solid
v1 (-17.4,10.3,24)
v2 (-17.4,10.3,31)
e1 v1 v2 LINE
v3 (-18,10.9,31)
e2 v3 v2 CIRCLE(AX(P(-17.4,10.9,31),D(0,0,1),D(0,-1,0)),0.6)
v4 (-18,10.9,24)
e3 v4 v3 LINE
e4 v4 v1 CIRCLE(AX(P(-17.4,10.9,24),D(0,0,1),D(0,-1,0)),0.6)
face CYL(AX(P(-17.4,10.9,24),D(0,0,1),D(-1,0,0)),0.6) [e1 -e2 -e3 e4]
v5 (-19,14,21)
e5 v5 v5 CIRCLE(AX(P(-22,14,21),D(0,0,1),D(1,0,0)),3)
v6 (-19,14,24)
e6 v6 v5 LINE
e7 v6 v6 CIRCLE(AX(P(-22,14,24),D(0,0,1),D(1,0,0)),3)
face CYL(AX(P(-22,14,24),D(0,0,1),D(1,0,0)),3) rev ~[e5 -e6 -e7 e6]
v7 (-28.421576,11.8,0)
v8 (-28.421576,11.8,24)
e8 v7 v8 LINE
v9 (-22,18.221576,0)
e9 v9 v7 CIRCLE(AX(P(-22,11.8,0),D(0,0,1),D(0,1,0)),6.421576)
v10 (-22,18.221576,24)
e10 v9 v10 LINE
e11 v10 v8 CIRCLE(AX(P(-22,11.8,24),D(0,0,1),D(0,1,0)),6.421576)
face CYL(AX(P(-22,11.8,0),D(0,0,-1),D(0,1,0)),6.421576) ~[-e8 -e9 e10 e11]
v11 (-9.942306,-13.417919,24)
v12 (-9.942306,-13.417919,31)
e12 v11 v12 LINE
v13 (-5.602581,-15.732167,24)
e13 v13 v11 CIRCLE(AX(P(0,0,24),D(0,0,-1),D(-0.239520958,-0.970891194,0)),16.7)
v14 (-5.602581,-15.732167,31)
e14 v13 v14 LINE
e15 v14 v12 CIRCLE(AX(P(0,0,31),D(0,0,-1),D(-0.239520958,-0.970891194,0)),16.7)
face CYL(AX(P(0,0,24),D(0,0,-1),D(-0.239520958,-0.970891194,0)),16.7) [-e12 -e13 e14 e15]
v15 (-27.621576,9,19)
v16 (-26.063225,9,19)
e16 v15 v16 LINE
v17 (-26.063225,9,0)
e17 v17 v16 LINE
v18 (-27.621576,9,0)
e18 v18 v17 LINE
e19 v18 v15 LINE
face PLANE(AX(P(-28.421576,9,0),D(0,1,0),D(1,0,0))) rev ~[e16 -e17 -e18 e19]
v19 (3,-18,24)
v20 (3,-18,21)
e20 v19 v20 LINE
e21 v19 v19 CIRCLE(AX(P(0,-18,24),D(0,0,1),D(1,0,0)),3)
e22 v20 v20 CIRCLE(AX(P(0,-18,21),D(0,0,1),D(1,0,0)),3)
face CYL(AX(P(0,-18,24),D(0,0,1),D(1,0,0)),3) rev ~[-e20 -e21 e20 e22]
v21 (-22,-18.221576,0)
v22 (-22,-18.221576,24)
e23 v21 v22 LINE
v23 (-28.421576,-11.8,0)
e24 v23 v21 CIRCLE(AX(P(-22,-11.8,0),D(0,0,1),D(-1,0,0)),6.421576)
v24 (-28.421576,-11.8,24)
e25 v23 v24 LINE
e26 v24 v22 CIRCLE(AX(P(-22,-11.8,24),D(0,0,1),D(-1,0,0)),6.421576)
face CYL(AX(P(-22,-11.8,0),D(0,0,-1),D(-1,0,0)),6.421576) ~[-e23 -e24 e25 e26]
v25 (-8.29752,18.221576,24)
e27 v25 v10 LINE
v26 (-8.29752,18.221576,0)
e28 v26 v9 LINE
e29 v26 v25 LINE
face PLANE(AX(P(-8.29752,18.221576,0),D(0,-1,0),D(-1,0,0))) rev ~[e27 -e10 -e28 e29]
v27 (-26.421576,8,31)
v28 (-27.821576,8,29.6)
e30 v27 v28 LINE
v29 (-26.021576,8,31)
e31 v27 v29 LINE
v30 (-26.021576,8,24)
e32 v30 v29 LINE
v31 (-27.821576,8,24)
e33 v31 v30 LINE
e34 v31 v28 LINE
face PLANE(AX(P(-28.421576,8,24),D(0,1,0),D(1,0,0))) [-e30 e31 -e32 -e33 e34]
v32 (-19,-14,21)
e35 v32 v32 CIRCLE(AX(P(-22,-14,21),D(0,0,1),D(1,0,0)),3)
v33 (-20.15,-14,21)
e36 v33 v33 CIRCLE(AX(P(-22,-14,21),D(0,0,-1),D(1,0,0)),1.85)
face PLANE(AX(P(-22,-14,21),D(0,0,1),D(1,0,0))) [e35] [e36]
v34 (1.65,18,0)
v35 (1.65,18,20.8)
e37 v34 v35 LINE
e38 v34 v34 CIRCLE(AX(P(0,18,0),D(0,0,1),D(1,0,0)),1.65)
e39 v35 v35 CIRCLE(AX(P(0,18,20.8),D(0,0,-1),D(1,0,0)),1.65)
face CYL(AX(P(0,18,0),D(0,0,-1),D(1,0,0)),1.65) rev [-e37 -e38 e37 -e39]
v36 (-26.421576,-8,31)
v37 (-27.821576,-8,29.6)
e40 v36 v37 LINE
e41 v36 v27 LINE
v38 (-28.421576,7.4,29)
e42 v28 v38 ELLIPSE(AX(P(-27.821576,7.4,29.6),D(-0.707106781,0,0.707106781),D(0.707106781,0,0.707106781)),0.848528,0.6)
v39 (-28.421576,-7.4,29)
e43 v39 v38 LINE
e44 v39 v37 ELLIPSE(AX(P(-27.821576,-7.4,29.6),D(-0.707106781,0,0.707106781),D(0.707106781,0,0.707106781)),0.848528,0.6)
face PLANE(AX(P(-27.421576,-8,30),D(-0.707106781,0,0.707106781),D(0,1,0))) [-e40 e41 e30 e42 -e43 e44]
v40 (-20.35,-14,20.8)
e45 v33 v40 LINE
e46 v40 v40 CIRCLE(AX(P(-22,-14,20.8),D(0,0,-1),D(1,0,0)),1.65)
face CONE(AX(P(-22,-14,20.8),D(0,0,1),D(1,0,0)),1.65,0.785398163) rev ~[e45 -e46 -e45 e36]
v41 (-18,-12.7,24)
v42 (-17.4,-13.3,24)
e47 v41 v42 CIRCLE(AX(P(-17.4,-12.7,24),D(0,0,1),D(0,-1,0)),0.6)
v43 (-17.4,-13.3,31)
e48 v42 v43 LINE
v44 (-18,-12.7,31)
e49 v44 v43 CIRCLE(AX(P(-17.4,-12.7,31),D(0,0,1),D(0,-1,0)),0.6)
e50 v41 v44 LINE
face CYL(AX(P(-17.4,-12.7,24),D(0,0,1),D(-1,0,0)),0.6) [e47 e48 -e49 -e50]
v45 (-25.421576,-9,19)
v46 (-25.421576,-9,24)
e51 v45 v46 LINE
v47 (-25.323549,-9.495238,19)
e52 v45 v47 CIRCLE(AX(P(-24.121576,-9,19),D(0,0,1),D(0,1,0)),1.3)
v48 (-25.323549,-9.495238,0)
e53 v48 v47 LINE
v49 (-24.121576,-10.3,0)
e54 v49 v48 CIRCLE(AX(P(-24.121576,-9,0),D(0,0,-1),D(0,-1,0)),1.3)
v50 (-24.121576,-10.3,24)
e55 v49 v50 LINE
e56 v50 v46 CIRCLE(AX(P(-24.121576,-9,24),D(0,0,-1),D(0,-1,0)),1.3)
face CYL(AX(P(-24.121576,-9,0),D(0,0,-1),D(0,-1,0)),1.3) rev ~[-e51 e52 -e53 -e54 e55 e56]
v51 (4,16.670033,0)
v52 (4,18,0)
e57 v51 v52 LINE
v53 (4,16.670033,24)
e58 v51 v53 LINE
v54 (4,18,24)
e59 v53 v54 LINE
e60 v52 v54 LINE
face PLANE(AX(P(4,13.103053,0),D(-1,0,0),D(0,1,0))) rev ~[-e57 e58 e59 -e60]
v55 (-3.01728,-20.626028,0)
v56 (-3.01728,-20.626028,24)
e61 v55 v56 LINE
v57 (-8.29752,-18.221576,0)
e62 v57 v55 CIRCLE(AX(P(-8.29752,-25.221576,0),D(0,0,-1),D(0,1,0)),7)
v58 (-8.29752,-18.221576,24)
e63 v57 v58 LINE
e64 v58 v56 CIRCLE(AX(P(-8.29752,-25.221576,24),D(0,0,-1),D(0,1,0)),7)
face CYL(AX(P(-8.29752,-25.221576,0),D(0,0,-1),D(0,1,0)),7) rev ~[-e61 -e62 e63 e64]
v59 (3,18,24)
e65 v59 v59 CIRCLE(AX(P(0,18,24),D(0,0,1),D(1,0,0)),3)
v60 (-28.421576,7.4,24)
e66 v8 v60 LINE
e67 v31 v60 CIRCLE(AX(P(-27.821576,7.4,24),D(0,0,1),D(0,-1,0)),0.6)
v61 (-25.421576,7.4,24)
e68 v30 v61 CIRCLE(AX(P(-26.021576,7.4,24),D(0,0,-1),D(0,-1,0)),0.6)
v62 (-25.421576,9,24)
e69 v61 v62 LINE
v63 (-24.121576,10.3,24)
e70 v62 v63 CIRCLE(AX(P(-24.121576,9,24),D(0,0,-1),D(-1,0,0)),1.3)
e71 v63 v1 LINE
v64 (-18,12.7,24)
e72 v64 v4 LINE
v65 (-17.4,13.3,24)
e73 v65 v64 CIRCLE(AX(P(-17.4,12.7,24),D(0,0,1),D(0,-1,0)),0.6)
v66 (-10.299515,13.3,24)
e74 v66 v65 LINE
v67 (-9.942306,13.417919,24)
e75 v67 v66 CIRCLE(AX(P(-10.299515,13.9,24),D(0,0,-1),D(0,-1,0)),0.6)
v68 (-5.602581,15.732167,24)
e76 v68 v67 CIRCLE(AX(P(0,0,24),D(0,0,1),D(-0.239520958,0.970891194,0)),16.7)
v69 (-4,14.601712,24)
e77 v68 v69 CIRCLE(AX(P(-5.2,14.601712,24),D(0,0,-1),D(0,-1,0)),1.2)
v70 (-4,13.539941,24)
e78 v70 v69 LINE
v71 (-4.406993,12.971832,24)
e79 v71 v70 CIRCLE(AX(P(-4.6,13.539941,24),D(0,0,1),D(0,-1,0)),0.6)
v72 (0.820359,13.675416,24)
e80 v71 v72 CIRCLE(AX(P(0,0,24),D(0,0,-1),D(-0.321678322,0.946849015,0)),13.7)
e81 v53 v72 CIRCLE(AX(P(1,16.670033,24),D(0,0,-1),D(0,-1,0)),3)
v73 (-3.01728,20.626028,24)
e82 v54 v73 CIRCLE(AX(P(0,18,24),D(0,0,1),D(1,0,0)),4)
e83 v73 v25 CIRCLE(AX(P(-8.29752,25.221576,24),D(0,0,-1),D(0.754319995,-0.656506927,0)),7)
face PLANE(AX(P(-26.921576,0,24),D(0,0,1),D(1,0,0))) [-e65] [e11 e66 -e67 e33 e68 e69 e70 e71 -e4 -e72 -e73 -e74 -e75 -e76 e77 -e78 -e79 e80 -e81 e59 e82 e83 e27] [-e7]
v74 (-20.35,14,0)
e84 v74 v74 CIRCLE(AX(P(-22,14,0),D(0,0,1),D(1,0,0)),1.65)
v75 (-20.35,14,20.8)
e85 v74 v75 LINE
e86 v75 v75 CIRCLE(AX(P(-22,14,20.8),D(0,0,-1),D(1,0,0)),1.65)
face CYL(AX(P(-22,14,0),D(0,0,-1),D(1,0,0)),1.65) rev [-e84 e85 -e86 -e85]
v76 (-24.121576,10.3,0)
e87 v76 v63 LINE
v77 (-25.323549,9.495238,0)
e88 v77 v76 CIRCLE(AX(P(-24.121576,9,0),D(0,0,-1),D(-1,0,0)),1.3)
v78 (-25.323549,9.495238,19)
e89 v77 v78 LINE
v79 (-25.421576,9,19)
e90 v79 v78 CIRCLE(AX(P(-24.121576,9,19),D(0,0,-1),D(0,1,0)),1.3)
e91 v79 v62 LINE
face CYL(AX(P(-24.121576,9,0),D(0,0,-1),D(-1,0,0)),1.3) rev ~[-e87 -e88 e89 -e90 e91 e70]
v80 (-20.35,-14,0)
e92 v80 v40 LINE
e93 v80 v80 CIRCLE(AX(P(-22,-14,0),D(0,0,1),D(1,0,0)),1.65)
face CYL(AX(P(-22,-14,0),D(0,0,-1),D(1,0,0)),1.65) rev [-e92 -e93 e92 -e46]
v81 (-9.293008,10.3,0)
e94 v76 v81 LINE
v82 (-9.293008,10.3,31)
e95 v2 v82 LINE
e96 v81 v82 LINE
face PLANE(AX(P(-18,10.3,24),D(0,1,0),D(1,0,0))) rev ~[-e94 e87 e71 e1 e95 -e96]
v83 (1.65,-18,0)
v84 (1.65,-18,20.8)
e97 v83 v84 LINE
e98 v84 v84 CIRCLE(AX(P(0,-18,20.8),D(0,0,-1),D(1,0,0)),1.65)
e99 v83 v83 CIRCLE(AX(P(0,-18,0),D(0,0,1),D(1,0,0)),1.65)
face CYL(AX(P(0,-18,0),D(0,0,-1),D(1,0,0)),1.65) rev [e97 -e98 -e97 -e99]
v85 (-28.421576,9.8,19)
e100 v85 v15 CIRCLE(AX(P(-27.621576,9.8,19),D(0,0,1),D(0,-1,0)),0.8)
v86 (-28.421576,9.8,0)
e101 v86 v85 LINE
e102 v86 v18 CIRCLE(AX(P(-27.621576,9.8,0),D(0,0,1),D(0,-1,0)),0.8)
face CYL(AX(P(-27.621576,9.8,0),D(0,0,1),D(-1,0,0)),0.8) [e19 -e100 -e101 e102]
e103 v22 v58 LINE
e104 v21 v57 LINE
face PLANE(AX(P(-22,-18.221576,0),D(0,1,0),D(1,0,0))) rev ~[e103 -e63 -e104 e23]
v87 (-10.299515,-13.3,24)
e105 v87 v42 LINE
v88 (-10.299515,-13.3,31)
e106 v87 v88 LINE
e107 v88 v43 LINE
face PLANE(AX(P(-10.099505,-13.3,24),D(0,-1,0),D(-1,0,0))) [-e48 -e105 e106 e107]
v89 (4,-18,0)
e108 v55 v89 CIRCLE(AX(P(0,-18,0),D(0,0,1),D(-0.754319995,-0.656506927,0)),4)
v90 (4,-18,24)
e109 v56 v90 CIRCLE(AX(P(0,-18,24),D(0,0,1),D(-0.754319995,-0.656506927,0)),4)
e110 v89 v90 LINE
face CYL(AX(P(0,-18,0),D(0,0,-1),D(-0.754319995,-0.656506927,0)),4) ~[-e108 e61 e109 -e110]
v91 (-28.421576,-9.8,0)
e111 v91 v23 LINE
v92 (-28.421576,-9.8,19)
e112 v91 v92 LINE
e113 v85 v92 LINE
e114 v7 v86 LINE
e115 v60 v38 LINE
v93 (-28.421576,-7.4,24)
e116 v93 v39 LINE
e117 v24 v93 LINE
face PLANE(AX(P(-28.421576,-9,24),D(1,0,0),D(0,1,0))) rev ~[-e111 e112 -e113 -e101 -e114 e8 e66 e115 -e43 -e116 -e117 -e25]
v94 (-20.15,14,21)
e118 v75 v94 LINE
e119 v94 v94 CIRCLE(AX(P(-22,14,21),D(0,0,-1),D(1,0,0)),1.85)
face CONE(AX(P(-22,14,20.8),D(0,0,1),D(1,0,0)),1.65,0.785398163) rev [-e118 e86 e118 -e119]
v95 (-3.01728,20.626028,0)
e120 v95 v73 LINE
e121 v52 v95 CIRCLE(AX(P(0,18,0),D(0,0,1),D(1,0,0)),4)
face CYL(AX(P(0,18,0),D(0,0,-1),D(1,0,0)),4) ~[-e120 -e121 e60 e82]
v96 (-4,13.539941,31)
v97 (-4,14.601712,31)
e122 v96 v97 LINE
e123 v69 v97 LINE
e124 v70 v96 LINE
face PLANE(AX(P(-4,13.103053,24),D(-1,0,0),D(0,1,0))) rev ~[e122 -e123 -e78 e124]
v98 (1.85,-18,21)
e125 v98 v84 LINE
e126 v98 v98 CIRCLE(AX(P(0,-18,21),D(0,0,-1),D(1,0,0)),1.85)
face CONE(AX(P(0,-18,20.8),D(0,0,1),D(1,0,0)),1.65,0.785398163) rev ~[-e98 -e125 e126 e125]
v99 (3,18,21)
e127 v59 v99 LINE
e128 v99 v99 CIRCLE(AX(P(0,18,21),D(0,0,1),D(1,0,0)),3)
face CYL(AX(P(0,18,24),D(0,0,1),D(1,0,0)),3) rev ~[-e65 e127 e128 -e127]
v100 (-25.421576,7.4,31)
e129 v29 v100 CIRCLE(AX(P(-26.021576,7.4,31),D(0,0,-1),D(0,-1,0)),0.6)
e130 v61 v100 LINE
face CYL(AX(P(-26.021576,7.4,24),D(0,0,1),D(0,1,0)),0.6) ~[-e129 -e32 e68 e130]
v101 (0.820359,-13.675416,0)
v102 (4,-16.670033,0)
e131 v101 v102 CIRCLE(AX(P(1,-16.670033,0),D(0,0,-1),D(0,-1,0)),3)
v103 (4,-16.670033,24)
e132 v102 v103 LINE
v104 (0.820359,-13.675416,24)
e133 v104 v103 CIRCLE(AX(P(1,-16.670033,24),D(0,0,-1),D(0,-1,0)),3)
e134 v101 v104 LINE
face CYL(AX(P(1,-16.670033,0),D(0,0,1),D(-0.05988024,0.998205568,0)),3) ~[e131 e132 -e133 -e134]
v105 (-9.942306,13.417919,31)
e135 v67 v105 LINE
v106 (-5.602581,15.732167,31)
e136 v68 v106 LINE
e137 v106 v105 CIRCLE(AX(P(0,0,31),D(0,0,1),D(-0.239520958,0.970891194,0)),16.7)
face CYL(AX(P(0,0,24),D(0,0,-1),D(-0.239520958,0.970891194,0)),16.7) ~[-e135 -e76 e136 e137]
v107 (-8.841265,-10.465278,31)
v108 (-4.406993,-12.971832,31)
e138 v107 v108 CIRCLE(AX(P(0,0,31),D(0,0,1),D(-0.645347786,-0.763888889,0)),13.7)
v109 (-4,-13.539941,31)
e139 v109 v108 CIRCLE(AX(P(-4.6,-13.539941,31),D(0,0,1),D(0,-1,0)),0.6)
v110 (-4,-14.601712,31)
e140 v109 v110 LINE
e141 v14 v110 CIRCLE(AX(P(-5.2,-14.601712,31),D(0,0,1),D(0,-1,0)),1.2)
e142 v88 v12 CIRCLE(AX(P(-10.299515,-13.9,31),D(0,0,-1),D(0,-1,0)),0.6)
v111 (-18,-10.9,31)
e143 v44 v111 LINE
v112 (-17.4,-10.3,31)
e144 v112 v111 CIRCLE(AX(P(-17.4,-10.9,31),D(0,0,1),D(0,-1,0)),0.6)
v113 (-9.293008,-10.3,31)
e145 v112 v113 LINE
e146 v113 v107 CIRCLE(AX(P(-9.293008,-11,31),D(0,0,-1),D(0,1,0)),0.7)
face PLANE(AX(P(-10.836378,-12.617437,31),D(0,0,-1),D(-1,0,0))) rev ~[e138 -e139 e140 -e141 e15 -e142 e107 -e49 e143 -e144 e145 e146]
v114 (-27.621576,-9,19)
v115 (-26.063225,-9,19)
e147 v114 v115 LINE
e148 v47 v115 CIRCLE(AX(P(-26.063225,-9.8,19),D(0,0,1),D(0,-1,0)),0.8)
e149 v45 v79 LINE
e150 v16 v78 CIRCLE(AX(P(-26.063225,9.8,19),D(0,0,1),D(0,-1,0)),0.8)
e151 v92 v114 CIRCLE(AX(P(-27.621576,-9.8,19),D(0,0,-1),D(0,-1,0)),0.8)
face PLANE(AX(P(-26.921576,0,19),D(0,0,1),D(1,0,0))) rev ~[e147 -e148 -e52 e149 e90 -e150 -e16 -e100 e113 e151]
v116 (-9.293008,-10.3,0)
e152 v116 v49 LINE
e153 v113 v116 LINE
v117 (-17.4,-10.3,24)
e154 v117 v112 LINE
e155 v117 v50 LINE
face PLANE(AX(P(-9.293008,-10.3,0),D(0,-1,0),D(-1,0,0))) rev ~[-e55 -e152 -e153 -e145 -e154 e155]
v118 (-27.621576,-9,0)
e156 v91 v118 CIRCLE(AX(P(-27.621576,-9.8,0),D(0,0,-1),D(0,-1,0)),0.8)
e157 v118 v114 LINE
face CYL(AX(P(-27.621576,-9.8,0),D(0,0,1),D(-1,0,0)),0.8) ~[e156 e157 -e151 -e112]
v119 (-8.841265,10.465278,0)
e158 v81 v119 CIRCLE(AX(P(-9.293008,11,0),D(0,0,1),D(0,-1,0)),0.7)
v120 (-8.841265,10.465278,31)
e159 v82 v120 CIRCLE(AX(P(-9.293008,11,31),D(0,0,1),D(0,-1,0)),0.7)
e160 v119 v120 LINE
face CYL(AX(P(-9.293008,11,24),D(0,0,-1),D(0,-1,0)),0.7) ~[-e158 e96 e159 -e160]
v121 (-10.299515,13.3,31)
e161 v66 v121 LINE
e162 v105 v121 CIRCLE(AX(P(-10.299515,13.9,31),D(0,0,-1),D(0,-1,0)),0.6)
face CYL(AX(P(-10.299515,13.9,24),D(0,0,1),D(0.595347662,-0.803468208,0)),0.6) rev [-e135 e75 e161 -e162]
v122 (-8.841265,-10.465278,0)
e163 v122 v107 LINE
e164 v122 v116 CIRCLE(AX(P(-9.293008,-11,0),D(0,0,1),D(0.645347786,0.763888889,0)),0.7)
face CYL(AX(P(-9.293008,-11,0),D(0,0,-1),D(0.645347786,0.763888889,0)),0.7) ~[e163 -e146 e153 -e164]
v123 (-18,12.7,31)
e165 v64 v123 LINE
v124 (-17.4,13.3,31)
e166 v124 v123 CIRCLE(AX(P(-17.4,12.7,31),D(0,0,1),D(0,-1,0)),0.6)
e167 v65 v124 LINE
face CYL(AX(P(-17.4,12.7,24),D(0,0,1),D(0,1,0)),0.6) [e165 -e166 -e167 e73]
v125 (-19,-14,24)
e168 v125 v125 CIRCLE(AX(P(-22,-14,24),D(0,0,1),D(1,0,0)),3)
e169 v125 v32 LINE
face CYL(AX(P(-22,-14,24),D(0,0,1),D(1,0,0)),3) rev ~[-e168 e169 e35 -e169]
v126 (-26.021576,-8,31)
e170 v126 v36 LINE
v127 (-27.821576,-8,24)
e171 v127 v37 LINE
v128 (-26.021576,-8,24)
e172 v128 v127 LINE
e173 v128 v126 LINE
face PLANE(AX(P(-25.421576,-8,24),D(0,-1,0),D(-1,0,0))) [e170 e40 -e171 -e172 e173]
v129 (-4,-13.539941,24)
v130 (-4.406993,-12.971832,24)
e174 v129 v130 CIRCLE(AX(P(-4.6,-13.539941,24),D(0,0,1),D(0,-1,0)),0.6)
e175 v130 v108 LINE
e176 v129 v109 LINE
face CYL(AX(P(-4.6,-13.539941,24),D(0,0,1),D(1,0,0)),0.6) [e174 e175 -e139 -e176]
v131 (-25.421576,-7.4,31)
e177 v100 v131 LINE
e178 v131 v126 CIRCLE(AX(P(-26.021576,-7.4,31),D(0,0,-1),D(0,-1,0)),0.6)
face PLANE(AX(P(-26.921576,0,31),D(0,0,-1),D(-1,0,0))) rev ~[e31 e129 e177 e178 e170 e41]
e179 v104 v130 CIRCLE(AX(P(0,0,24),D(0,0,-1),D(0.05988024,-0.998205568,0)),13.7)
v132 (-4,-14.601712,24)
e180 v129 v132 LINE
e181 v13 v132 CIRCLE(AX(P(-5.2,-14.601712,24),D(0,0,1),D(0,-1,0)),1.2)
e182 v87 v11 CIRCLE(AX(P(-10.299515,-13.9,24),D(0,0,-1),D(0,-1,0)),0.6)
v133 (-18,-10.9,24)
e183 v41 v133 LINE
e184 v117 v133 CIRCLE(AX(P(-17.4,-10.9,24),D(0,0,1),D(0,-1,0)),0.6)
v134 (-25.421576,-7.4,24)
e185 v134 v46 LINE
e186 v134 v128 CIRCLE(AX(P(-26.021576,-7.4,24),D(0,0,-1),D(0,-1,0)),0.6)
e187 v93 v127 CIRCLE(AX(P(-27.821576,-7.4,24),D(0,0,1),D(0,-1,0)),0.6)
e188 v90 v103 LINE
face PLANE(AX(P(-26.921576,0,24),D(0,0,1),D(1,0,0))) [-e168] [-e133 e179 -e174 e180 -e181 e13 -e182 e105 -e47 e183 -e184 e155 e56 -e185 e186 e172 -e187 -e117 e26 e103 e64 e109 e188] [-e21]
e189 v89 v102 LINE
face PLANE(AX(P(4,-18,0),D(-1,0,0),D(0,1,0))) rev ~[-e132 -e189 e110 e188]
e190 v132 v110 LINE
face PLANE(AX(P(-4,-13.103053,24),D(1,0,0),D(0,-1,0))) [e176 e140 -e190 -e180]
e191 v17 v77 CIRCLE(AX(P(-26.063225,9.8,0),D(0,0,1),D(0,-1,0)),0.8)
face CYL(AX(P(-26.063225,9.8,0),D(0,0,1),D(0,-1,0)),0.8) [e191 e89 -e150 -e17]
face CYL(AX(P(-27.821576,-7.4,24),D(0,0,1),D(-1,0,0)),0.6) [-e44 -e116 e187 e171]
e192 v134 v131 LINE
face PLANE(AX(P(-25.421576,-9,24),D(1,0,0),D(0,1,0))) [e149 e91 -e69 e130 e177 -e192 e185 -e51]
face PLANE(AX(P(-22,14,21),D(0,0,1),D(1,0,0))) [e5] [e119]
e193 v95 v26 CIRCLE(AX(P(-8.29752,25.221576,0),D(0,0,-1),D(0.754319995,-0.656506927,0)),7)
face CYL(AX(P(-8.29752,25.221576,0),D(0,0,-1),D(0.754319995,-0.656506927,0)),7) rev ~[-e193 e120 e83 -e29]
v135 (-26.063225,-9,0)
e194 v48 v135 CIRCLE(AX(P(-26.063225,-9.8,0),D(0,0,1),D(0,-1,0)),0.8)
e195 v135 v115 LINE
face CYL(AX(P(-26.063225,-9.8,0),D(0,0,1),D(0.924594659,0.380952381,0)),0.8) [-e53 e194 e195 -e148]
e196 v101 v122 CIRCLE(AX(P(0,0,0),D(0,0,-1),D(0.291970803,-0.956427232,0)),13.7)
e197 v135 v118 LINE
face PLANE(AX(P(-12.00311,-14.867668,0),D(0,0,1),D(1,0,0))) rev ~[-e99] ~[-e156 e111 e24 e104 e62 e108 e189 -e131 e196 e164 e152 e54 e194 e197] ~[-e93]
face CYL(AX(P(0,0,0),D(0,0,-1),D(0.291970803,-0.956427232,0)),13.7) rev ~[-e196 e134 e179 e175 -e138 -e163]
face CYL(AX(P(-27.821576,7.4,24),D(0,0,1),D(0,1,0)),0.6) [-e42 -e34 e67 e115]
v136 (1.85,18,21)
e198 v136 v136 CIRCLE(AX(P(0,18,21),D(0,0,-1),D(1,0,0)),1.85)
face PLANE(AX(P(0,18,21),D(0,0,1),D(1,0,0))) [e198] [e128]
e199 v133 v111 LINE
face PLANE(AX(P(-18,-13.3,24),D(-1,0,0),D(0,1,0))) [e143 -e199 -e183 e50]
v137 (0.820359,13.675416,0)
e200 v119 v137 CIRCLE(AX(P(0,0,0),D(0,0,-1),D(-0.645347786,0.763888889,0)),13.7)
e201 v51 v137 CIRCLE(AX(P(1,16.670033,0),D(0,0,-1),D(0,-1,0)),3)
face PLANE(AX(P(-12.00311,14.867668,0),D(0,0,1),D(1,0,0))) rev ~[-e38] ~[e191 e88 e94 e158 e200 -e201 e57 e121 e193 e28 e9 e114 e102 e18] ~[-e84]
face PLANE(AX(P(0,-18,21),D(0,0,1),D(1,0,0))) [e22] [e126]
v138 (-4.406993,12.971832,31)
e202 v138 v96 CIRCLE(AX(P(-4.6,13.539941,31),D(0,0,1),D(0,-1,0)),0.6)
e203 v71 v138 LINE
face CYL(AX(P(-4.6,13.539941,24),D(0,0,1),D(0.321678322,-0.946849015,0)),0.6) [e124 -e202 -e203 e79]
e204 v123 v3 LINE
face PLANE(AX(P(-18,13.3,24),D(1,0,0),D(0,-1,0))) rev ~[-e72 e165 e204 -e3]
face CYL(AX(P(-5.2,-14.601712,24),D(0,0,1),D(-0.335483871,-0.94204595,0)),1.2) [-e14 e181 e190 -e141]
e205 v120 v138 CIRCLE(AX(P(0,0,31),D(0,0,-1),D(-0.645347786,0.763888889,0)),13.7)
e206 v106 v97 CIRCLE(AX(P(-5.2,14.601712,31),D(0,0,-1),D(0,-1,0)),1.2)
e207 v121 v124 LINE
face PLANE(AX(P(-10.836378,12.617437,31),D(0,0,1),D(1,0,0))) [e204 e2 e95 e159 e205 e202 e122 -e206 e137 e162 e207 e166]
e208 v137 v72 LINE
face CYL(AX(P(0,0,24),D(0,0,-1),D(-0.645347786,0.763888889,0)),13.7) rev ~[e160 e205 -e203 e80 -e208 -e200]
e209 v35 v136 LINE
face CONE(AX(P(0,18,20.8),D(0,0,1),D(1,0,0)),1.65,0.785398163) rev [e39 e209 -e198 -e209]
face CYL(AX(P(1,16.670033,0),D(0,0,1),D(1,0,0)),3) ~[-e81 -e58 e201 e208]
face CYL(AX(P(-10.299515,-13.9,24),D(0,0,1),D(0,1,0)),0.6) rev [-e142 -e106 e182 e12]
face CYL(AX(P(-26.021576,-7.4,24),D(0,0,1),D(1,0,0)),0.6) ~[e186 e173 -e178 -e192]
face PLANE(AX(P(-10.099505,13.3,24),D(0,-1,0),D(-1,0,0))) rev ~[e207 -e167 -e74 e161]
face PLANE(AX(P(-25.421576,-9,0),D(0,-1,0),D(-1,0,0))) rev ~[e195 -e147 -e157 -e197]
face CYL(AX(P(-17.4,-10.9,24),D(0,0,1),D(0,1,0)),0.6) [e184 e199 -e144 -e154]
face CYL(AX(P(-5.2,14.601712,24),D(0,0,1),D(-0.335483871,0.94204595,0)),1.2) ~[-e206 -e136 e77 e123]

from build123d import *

# Parameters (mm, degrees)
SKETCH1_R             = 1.6499999999999988
SKETCH1_R_2           = 1.6499999999999992
BOSS_EXTRUDE1_DEPTH   = 24
BOSS_EXTRUDE1_2_DEPTH = 24
SKETCH5_R             = 3.0000000000000044
SKETCH5_R_2           = 2.9999999999999996
CUT_EXTRUDE1_DEPTH    = 3
SKETCH6_W             = 2.999999999999975
SKETCH6_H             = 17.999999999999996
BOSS_EXTRUDE2_DEPTH   = 5
FILLET1_R             = 3
BOSS_EXTRUDE3_DEPTH   = 7
CHAMFER1_SIZE         = 2
FILLET2_R             = 0.6
FILLET3_R             = 1.2
CHAMFER2_SIZE         = 0.2
FILLET4_R             = 0.8


with BuildPart() as part:
    # Sketch1 → Boss-Extrude1 (new body)
    with BuildSketch(Plane.XY):
        with BuildLine():
            Line((-24.12157620169872, 10.3), (-9.293008124391159, 10.3))
            ThreePointArc((-9.293008124391159, 10.3), (-9.052493629563461, 10.342616719274229), (-8.841264673899918, 10.465277777777773))
            ThreePointArc((-8.84126467389991, 10.465277777777777), (-2.7566148708280886, 13.419801580274177), (4.000000000000017, 13.103053079339933))
            Line((4.000000000000019, 13.103053079339944), (4.000000000000019, 18))
            ThreePointArc((4.0000000000000195, 18), (1.4019415263376545, 21.7462728086366), (-3.0172799783650257, 20.626027709708623))
            ThreePointArc((-3.017279978365025, 20.626027709708623), (-5.396557983146459, 18.850985983990057), (-8.297519940503818, 18.221576201698717))
            Line((-8.297519940503818, 18.22157620169872), (-22, 18.221576201698717))
            ThreePointArc((-22, 18.221576201698717), (-26.540740078127286, 16.340740078127293), (-28.42157620169869, 11.799999999999997))
            Line((-28.42157620169869, 11.799999999999997), (-28.421576201698695, 8.999999999999998))
            Line((-28.421576201698695, 8.999999999999998), (-25.42157620169872, 8.999999999999998))
            ThreePointArc((-25.42157620169872, 8.999999999999998), (-25.040815017241233, 9.919238815542512), (-24.12157620169872, 10.3))
        make_face()
        with Locations((-21.999999999999996, 14)):
            Circle(SKETCH1_R, mode=Mode.SUBTRACT)
        with Locations((-6.49e-15, 18)):
            Circle(SKETCH1_R_2, mode=Mode.SUBTRACT)
    extrude(amount=BOSS_EXTRUDE1_DEPTH)


with BuildPart() as body_2:
    # Sketch1 → Boss-Extrude1 2 (new body)
    with BuildSketch(Plane.XY):
        with BuildLine():
            ThreePointArc((-24.12157620169872, -10.299999999999999), (-25.040815017241233, -9.91923881554251), (-25.42157620169872, -8.999999999999998))
            Line((-25.42157620169872, -8.999999999999998), (-28.421576201698723, -8.999999999999998))
            Line((-28.421576201698723, -8.999999999999998), (-28.42157620169872, -11.799999999999997))
            ThreePointArc((-28.42157620169872, -11.799999999999997), (-26.540740078127314, -16.340740078127318), (-21.999999999999996, -18.22157620169873))
            Line((-21.999999999999996, -18.22157620169873), (-8.297519940503813, -18.221576201698728))
            ThreePointArc((-8.297519940503813, -18.221576201698728), (-5.3965579831464545, -18.850985983990064), (-3.0172799783650195, -20.62602770970863))
            ThreePointArc((-3.0172799783650204, -20.62602770970863), (1.4019415263376571, -21.74627280863661), (4.000000000000004, -18))
            Line((4.000000000000004, -18), (4.000000000000004, -13.103053079339944))
            ThreePointArc((4.000000000000004, -13.103053079339945), (-2.756614870828109, -13.41980158027418), (-8.841264673899921, -10.465277777777775))
            ThreePointArc((-8.841264673899923, -10.465277777777775), (-9.052493629563463, -10.342616719274227), (-9.293008124391159, -10.299999999999999))
            Line((-9.293008124391159, -10.299999999999999), (-24.12157620169872, -10.299999999999999))
        make_face()
        with Locations((-21.999999999999996, -14)):
            Circle(SKETCH1_R, mode=Mode.SUBTRACT)
        with Locations((4.53e-15, -18)):
            Circle(SKETCH1_R_2, mode=Mode.SUBTRACT)
    extrude(amount=BOSS_EXTRUDE1_2_DEPTH)


with BuildPart() as cut_extrude1_tool:
    # Sketch5 → Cut-Extrude1 (new body)
    with BuildSketch(Plane.XY.offset(24)):
        with Locations((-21.999999999999996, 14)):
            Circle(SKETCH5_R)
        with Locations((-6.49e-15, 18)):
            Circle(SKETCH5_R_2)
        with Locations((4.53e-15, -18)):
            Circle(SKETCH5_R_2)
        with Locations((-21.999999999999996, -14)):
            Circle(SKETCH5_R)
    extrude(amount=-CUT_EXTRUDE1_DEPTH)


with BuildPart() as part_1:
    add(part.part)

    # Cut-Extrude1: cut by cut_extrude1_tool
    add(cut_extrude1_tool.part, mode=Mode.SUBTRACT)



with BuildPart() as body_2_1:
    add(body_2.part)

    # Cut-Extrude1: cut by cut_extrude1_tool
    add(cut_extrude1_tool.part, mode=Mode.SUBTRACT)


with BuildPart() as part_2:
    add(part_1.part)

    add(body_2_1.part)  # Boss-Extrude2 merges body 2
    # Sketch6 → Boss-Extrude2 (add)
    with BuildSketch(Plane.XY.offset(24)):
        with Locations((-26.921576201698706, 0)):
            Rectangle(SKETCH6_W, SKETCH6_H)
    extrude(amount=-BOSS_EXTRUDE2_DEPTH)

    # Fillet1
    fillet1_edges = [part_2.edges().sort_by_distance(p)[0] for p in [
        (4.000000000000018, 13.103053079339938, 12),
        (4.0000000000000036, -13.103053079339944, 12),
    ]]
    fillet(fillet1_edges, radius=FILLET1_R)

    # Sketch7 → Boss-Extrude3 (add)
    with BuildSketch(Plane.XY.offset(24)):
        Polygon((-28.42157620169872, 8.000000000000004), (-25.42157620169872, 8.000000000000004), (-25.42157620169872, -7.9999999999999964), (-28.421576201698716, -7.9999999999999964), align=None)
        with BuildLine():
            Line((-17.999999999999996, 10.3), (-9.293008124391159, 10.3))
            ThreePointArc((-9.293008124391159, 10.3), (-9.052493629563465, 10.342616719274229), (-8.841264673899923, 10.465277777777771))
            ThreePointArc((-8.841264673899923, 10.465277777777771), (-6.554691773201115, 12.030212623155485), (-4, 13.103053079339944))
            Line((-4, 13.103053079339944), (-3.999999999999999, 16.21388294024599))
            ThreePointArc((-3.999999999999999, 16.21388294024599), (-7.198728243522483, 15.068786005379188), (-10.099504938362077, 13.299999999999999))
            Line((-10.099504938362077, 13.299999999999999), (-17.999999999999996, 13.299999999999999))
            Line((-17.999999999999996, 13.299999999999999), (-17.999999999999996, 10.3))
        make_face()
        with BuildLine():
            Line((-17.999999999999993, -10.300000000000004), (-9.293008124391159, -10.3))
            ThreePointArc((-9.293008124391159, -10.3), (-9.052493629563465, -10.342616719274229), (-8.841264673899923, -10.465277777777771))
            ThreePointArc((-8.841264673899923, -10.465277777777771), (-6.554691773201115, -12.030212623155485), (-4, -13.103053079339944))
            Line((-4, -13.103053079339944), (-3.9999999999999947, -16.21388294024599))
            ThreePointArc((-3.9999999999999947, -16.21388294024599), (-7.198728243522483, -15.068786005379188), (-10.099504938362074, -13.300000000000002))
            Line((-10.099504938362074, -13.300000000000002), (-17.999999999999993, -13.300000000000002))
            Line((-17.999999999999993, -13.300000000000002), (-17.999999999999993, -10.300000000000004))
        make_face()
    extrude(amount=BOSS_EXTRUDE3_DEPTH)

    # Chamfer1
    chamfer1_edges = [part_2.edges().sort_by_distance(p)[0] for p in [
        (-28.42157620169872, 3.55e-15, 31),
    ]]
    chamfer(chamfer1_edges, length=CHAMFER1_SIZE)

    # Fillet2
    fillet2_edges = [part_2.edges().sort_by_distance(p)[0] for p in [
        (-25.42157620169872, -7.9999999999999964, 27.5),
        (-25.42157620169872, 8.000000000000004, 27.5),
        (-17.999999999999996, 13.299999999999999, 27.5),
        (-17.999999999999996, 10.3, 27.5),
        (-3.9999999999999996, 13.103053079339945, 27.5),
        (-10.099504938362077, 13.299999999999999, 27.5),
        (-17.999999999999993, -10.300000000000004, 27.5),
        (-17.999999999999993, -13.300000000000002, 27.5),
        (-10.099504938362076, -13.3, 27.5),
        (-3.9999999999999996, -13.103053079339945, 27.5),
        (-28.421576201698716, -7.9999999999999964, 26.5),
        (-28.42157620169872, 8.000000000000004, 26.499999999999993),
    ]]
    fillet(fillet2_edges, radius=FILLET2_R)

    # Fillet3
    fillet3_edges = [part_2.edges().sort_by_distance(p)[0] for p in [
        (-3.999999999999999, 16.213882940245995, 27.5),
        (-3.9999999999999947, -16.21388294024599, 27.5),
    ]]
    fillet(fillet3_edges, radius=FILLET3_R)

    # Chamfer2
    chamfer2_edges = [part_2.edges().sort_by_distance(p)[0] for p in [
        (-23.649999999999995, 14, 21),
        (-1.6500000000000057, 18, 21),
        (-23.649999999999995, -14, 21),
        (-1.6499999999999948, -18, 21),
    ]]
    chamfer(chamfer2_edges, length=CHAMFER2_SIZE)

    # Fillet4
    fillet4_edges = [part_2.edges().sort_by_distance(p)[0] for p in [
        (-25.42157620169872, 8.999999999999998, 9.5),
        (-28.421576201698695, 8.999999999999998, 9.5),
        (-25.42157620169872, -8.999999999999998, 9.5),
        (-28.421576201698723, -8.999999999999998, 9.5),
    ]]
    fillet(fillet4_edges, radius=FILLET4_R)


solid = part_2.part
